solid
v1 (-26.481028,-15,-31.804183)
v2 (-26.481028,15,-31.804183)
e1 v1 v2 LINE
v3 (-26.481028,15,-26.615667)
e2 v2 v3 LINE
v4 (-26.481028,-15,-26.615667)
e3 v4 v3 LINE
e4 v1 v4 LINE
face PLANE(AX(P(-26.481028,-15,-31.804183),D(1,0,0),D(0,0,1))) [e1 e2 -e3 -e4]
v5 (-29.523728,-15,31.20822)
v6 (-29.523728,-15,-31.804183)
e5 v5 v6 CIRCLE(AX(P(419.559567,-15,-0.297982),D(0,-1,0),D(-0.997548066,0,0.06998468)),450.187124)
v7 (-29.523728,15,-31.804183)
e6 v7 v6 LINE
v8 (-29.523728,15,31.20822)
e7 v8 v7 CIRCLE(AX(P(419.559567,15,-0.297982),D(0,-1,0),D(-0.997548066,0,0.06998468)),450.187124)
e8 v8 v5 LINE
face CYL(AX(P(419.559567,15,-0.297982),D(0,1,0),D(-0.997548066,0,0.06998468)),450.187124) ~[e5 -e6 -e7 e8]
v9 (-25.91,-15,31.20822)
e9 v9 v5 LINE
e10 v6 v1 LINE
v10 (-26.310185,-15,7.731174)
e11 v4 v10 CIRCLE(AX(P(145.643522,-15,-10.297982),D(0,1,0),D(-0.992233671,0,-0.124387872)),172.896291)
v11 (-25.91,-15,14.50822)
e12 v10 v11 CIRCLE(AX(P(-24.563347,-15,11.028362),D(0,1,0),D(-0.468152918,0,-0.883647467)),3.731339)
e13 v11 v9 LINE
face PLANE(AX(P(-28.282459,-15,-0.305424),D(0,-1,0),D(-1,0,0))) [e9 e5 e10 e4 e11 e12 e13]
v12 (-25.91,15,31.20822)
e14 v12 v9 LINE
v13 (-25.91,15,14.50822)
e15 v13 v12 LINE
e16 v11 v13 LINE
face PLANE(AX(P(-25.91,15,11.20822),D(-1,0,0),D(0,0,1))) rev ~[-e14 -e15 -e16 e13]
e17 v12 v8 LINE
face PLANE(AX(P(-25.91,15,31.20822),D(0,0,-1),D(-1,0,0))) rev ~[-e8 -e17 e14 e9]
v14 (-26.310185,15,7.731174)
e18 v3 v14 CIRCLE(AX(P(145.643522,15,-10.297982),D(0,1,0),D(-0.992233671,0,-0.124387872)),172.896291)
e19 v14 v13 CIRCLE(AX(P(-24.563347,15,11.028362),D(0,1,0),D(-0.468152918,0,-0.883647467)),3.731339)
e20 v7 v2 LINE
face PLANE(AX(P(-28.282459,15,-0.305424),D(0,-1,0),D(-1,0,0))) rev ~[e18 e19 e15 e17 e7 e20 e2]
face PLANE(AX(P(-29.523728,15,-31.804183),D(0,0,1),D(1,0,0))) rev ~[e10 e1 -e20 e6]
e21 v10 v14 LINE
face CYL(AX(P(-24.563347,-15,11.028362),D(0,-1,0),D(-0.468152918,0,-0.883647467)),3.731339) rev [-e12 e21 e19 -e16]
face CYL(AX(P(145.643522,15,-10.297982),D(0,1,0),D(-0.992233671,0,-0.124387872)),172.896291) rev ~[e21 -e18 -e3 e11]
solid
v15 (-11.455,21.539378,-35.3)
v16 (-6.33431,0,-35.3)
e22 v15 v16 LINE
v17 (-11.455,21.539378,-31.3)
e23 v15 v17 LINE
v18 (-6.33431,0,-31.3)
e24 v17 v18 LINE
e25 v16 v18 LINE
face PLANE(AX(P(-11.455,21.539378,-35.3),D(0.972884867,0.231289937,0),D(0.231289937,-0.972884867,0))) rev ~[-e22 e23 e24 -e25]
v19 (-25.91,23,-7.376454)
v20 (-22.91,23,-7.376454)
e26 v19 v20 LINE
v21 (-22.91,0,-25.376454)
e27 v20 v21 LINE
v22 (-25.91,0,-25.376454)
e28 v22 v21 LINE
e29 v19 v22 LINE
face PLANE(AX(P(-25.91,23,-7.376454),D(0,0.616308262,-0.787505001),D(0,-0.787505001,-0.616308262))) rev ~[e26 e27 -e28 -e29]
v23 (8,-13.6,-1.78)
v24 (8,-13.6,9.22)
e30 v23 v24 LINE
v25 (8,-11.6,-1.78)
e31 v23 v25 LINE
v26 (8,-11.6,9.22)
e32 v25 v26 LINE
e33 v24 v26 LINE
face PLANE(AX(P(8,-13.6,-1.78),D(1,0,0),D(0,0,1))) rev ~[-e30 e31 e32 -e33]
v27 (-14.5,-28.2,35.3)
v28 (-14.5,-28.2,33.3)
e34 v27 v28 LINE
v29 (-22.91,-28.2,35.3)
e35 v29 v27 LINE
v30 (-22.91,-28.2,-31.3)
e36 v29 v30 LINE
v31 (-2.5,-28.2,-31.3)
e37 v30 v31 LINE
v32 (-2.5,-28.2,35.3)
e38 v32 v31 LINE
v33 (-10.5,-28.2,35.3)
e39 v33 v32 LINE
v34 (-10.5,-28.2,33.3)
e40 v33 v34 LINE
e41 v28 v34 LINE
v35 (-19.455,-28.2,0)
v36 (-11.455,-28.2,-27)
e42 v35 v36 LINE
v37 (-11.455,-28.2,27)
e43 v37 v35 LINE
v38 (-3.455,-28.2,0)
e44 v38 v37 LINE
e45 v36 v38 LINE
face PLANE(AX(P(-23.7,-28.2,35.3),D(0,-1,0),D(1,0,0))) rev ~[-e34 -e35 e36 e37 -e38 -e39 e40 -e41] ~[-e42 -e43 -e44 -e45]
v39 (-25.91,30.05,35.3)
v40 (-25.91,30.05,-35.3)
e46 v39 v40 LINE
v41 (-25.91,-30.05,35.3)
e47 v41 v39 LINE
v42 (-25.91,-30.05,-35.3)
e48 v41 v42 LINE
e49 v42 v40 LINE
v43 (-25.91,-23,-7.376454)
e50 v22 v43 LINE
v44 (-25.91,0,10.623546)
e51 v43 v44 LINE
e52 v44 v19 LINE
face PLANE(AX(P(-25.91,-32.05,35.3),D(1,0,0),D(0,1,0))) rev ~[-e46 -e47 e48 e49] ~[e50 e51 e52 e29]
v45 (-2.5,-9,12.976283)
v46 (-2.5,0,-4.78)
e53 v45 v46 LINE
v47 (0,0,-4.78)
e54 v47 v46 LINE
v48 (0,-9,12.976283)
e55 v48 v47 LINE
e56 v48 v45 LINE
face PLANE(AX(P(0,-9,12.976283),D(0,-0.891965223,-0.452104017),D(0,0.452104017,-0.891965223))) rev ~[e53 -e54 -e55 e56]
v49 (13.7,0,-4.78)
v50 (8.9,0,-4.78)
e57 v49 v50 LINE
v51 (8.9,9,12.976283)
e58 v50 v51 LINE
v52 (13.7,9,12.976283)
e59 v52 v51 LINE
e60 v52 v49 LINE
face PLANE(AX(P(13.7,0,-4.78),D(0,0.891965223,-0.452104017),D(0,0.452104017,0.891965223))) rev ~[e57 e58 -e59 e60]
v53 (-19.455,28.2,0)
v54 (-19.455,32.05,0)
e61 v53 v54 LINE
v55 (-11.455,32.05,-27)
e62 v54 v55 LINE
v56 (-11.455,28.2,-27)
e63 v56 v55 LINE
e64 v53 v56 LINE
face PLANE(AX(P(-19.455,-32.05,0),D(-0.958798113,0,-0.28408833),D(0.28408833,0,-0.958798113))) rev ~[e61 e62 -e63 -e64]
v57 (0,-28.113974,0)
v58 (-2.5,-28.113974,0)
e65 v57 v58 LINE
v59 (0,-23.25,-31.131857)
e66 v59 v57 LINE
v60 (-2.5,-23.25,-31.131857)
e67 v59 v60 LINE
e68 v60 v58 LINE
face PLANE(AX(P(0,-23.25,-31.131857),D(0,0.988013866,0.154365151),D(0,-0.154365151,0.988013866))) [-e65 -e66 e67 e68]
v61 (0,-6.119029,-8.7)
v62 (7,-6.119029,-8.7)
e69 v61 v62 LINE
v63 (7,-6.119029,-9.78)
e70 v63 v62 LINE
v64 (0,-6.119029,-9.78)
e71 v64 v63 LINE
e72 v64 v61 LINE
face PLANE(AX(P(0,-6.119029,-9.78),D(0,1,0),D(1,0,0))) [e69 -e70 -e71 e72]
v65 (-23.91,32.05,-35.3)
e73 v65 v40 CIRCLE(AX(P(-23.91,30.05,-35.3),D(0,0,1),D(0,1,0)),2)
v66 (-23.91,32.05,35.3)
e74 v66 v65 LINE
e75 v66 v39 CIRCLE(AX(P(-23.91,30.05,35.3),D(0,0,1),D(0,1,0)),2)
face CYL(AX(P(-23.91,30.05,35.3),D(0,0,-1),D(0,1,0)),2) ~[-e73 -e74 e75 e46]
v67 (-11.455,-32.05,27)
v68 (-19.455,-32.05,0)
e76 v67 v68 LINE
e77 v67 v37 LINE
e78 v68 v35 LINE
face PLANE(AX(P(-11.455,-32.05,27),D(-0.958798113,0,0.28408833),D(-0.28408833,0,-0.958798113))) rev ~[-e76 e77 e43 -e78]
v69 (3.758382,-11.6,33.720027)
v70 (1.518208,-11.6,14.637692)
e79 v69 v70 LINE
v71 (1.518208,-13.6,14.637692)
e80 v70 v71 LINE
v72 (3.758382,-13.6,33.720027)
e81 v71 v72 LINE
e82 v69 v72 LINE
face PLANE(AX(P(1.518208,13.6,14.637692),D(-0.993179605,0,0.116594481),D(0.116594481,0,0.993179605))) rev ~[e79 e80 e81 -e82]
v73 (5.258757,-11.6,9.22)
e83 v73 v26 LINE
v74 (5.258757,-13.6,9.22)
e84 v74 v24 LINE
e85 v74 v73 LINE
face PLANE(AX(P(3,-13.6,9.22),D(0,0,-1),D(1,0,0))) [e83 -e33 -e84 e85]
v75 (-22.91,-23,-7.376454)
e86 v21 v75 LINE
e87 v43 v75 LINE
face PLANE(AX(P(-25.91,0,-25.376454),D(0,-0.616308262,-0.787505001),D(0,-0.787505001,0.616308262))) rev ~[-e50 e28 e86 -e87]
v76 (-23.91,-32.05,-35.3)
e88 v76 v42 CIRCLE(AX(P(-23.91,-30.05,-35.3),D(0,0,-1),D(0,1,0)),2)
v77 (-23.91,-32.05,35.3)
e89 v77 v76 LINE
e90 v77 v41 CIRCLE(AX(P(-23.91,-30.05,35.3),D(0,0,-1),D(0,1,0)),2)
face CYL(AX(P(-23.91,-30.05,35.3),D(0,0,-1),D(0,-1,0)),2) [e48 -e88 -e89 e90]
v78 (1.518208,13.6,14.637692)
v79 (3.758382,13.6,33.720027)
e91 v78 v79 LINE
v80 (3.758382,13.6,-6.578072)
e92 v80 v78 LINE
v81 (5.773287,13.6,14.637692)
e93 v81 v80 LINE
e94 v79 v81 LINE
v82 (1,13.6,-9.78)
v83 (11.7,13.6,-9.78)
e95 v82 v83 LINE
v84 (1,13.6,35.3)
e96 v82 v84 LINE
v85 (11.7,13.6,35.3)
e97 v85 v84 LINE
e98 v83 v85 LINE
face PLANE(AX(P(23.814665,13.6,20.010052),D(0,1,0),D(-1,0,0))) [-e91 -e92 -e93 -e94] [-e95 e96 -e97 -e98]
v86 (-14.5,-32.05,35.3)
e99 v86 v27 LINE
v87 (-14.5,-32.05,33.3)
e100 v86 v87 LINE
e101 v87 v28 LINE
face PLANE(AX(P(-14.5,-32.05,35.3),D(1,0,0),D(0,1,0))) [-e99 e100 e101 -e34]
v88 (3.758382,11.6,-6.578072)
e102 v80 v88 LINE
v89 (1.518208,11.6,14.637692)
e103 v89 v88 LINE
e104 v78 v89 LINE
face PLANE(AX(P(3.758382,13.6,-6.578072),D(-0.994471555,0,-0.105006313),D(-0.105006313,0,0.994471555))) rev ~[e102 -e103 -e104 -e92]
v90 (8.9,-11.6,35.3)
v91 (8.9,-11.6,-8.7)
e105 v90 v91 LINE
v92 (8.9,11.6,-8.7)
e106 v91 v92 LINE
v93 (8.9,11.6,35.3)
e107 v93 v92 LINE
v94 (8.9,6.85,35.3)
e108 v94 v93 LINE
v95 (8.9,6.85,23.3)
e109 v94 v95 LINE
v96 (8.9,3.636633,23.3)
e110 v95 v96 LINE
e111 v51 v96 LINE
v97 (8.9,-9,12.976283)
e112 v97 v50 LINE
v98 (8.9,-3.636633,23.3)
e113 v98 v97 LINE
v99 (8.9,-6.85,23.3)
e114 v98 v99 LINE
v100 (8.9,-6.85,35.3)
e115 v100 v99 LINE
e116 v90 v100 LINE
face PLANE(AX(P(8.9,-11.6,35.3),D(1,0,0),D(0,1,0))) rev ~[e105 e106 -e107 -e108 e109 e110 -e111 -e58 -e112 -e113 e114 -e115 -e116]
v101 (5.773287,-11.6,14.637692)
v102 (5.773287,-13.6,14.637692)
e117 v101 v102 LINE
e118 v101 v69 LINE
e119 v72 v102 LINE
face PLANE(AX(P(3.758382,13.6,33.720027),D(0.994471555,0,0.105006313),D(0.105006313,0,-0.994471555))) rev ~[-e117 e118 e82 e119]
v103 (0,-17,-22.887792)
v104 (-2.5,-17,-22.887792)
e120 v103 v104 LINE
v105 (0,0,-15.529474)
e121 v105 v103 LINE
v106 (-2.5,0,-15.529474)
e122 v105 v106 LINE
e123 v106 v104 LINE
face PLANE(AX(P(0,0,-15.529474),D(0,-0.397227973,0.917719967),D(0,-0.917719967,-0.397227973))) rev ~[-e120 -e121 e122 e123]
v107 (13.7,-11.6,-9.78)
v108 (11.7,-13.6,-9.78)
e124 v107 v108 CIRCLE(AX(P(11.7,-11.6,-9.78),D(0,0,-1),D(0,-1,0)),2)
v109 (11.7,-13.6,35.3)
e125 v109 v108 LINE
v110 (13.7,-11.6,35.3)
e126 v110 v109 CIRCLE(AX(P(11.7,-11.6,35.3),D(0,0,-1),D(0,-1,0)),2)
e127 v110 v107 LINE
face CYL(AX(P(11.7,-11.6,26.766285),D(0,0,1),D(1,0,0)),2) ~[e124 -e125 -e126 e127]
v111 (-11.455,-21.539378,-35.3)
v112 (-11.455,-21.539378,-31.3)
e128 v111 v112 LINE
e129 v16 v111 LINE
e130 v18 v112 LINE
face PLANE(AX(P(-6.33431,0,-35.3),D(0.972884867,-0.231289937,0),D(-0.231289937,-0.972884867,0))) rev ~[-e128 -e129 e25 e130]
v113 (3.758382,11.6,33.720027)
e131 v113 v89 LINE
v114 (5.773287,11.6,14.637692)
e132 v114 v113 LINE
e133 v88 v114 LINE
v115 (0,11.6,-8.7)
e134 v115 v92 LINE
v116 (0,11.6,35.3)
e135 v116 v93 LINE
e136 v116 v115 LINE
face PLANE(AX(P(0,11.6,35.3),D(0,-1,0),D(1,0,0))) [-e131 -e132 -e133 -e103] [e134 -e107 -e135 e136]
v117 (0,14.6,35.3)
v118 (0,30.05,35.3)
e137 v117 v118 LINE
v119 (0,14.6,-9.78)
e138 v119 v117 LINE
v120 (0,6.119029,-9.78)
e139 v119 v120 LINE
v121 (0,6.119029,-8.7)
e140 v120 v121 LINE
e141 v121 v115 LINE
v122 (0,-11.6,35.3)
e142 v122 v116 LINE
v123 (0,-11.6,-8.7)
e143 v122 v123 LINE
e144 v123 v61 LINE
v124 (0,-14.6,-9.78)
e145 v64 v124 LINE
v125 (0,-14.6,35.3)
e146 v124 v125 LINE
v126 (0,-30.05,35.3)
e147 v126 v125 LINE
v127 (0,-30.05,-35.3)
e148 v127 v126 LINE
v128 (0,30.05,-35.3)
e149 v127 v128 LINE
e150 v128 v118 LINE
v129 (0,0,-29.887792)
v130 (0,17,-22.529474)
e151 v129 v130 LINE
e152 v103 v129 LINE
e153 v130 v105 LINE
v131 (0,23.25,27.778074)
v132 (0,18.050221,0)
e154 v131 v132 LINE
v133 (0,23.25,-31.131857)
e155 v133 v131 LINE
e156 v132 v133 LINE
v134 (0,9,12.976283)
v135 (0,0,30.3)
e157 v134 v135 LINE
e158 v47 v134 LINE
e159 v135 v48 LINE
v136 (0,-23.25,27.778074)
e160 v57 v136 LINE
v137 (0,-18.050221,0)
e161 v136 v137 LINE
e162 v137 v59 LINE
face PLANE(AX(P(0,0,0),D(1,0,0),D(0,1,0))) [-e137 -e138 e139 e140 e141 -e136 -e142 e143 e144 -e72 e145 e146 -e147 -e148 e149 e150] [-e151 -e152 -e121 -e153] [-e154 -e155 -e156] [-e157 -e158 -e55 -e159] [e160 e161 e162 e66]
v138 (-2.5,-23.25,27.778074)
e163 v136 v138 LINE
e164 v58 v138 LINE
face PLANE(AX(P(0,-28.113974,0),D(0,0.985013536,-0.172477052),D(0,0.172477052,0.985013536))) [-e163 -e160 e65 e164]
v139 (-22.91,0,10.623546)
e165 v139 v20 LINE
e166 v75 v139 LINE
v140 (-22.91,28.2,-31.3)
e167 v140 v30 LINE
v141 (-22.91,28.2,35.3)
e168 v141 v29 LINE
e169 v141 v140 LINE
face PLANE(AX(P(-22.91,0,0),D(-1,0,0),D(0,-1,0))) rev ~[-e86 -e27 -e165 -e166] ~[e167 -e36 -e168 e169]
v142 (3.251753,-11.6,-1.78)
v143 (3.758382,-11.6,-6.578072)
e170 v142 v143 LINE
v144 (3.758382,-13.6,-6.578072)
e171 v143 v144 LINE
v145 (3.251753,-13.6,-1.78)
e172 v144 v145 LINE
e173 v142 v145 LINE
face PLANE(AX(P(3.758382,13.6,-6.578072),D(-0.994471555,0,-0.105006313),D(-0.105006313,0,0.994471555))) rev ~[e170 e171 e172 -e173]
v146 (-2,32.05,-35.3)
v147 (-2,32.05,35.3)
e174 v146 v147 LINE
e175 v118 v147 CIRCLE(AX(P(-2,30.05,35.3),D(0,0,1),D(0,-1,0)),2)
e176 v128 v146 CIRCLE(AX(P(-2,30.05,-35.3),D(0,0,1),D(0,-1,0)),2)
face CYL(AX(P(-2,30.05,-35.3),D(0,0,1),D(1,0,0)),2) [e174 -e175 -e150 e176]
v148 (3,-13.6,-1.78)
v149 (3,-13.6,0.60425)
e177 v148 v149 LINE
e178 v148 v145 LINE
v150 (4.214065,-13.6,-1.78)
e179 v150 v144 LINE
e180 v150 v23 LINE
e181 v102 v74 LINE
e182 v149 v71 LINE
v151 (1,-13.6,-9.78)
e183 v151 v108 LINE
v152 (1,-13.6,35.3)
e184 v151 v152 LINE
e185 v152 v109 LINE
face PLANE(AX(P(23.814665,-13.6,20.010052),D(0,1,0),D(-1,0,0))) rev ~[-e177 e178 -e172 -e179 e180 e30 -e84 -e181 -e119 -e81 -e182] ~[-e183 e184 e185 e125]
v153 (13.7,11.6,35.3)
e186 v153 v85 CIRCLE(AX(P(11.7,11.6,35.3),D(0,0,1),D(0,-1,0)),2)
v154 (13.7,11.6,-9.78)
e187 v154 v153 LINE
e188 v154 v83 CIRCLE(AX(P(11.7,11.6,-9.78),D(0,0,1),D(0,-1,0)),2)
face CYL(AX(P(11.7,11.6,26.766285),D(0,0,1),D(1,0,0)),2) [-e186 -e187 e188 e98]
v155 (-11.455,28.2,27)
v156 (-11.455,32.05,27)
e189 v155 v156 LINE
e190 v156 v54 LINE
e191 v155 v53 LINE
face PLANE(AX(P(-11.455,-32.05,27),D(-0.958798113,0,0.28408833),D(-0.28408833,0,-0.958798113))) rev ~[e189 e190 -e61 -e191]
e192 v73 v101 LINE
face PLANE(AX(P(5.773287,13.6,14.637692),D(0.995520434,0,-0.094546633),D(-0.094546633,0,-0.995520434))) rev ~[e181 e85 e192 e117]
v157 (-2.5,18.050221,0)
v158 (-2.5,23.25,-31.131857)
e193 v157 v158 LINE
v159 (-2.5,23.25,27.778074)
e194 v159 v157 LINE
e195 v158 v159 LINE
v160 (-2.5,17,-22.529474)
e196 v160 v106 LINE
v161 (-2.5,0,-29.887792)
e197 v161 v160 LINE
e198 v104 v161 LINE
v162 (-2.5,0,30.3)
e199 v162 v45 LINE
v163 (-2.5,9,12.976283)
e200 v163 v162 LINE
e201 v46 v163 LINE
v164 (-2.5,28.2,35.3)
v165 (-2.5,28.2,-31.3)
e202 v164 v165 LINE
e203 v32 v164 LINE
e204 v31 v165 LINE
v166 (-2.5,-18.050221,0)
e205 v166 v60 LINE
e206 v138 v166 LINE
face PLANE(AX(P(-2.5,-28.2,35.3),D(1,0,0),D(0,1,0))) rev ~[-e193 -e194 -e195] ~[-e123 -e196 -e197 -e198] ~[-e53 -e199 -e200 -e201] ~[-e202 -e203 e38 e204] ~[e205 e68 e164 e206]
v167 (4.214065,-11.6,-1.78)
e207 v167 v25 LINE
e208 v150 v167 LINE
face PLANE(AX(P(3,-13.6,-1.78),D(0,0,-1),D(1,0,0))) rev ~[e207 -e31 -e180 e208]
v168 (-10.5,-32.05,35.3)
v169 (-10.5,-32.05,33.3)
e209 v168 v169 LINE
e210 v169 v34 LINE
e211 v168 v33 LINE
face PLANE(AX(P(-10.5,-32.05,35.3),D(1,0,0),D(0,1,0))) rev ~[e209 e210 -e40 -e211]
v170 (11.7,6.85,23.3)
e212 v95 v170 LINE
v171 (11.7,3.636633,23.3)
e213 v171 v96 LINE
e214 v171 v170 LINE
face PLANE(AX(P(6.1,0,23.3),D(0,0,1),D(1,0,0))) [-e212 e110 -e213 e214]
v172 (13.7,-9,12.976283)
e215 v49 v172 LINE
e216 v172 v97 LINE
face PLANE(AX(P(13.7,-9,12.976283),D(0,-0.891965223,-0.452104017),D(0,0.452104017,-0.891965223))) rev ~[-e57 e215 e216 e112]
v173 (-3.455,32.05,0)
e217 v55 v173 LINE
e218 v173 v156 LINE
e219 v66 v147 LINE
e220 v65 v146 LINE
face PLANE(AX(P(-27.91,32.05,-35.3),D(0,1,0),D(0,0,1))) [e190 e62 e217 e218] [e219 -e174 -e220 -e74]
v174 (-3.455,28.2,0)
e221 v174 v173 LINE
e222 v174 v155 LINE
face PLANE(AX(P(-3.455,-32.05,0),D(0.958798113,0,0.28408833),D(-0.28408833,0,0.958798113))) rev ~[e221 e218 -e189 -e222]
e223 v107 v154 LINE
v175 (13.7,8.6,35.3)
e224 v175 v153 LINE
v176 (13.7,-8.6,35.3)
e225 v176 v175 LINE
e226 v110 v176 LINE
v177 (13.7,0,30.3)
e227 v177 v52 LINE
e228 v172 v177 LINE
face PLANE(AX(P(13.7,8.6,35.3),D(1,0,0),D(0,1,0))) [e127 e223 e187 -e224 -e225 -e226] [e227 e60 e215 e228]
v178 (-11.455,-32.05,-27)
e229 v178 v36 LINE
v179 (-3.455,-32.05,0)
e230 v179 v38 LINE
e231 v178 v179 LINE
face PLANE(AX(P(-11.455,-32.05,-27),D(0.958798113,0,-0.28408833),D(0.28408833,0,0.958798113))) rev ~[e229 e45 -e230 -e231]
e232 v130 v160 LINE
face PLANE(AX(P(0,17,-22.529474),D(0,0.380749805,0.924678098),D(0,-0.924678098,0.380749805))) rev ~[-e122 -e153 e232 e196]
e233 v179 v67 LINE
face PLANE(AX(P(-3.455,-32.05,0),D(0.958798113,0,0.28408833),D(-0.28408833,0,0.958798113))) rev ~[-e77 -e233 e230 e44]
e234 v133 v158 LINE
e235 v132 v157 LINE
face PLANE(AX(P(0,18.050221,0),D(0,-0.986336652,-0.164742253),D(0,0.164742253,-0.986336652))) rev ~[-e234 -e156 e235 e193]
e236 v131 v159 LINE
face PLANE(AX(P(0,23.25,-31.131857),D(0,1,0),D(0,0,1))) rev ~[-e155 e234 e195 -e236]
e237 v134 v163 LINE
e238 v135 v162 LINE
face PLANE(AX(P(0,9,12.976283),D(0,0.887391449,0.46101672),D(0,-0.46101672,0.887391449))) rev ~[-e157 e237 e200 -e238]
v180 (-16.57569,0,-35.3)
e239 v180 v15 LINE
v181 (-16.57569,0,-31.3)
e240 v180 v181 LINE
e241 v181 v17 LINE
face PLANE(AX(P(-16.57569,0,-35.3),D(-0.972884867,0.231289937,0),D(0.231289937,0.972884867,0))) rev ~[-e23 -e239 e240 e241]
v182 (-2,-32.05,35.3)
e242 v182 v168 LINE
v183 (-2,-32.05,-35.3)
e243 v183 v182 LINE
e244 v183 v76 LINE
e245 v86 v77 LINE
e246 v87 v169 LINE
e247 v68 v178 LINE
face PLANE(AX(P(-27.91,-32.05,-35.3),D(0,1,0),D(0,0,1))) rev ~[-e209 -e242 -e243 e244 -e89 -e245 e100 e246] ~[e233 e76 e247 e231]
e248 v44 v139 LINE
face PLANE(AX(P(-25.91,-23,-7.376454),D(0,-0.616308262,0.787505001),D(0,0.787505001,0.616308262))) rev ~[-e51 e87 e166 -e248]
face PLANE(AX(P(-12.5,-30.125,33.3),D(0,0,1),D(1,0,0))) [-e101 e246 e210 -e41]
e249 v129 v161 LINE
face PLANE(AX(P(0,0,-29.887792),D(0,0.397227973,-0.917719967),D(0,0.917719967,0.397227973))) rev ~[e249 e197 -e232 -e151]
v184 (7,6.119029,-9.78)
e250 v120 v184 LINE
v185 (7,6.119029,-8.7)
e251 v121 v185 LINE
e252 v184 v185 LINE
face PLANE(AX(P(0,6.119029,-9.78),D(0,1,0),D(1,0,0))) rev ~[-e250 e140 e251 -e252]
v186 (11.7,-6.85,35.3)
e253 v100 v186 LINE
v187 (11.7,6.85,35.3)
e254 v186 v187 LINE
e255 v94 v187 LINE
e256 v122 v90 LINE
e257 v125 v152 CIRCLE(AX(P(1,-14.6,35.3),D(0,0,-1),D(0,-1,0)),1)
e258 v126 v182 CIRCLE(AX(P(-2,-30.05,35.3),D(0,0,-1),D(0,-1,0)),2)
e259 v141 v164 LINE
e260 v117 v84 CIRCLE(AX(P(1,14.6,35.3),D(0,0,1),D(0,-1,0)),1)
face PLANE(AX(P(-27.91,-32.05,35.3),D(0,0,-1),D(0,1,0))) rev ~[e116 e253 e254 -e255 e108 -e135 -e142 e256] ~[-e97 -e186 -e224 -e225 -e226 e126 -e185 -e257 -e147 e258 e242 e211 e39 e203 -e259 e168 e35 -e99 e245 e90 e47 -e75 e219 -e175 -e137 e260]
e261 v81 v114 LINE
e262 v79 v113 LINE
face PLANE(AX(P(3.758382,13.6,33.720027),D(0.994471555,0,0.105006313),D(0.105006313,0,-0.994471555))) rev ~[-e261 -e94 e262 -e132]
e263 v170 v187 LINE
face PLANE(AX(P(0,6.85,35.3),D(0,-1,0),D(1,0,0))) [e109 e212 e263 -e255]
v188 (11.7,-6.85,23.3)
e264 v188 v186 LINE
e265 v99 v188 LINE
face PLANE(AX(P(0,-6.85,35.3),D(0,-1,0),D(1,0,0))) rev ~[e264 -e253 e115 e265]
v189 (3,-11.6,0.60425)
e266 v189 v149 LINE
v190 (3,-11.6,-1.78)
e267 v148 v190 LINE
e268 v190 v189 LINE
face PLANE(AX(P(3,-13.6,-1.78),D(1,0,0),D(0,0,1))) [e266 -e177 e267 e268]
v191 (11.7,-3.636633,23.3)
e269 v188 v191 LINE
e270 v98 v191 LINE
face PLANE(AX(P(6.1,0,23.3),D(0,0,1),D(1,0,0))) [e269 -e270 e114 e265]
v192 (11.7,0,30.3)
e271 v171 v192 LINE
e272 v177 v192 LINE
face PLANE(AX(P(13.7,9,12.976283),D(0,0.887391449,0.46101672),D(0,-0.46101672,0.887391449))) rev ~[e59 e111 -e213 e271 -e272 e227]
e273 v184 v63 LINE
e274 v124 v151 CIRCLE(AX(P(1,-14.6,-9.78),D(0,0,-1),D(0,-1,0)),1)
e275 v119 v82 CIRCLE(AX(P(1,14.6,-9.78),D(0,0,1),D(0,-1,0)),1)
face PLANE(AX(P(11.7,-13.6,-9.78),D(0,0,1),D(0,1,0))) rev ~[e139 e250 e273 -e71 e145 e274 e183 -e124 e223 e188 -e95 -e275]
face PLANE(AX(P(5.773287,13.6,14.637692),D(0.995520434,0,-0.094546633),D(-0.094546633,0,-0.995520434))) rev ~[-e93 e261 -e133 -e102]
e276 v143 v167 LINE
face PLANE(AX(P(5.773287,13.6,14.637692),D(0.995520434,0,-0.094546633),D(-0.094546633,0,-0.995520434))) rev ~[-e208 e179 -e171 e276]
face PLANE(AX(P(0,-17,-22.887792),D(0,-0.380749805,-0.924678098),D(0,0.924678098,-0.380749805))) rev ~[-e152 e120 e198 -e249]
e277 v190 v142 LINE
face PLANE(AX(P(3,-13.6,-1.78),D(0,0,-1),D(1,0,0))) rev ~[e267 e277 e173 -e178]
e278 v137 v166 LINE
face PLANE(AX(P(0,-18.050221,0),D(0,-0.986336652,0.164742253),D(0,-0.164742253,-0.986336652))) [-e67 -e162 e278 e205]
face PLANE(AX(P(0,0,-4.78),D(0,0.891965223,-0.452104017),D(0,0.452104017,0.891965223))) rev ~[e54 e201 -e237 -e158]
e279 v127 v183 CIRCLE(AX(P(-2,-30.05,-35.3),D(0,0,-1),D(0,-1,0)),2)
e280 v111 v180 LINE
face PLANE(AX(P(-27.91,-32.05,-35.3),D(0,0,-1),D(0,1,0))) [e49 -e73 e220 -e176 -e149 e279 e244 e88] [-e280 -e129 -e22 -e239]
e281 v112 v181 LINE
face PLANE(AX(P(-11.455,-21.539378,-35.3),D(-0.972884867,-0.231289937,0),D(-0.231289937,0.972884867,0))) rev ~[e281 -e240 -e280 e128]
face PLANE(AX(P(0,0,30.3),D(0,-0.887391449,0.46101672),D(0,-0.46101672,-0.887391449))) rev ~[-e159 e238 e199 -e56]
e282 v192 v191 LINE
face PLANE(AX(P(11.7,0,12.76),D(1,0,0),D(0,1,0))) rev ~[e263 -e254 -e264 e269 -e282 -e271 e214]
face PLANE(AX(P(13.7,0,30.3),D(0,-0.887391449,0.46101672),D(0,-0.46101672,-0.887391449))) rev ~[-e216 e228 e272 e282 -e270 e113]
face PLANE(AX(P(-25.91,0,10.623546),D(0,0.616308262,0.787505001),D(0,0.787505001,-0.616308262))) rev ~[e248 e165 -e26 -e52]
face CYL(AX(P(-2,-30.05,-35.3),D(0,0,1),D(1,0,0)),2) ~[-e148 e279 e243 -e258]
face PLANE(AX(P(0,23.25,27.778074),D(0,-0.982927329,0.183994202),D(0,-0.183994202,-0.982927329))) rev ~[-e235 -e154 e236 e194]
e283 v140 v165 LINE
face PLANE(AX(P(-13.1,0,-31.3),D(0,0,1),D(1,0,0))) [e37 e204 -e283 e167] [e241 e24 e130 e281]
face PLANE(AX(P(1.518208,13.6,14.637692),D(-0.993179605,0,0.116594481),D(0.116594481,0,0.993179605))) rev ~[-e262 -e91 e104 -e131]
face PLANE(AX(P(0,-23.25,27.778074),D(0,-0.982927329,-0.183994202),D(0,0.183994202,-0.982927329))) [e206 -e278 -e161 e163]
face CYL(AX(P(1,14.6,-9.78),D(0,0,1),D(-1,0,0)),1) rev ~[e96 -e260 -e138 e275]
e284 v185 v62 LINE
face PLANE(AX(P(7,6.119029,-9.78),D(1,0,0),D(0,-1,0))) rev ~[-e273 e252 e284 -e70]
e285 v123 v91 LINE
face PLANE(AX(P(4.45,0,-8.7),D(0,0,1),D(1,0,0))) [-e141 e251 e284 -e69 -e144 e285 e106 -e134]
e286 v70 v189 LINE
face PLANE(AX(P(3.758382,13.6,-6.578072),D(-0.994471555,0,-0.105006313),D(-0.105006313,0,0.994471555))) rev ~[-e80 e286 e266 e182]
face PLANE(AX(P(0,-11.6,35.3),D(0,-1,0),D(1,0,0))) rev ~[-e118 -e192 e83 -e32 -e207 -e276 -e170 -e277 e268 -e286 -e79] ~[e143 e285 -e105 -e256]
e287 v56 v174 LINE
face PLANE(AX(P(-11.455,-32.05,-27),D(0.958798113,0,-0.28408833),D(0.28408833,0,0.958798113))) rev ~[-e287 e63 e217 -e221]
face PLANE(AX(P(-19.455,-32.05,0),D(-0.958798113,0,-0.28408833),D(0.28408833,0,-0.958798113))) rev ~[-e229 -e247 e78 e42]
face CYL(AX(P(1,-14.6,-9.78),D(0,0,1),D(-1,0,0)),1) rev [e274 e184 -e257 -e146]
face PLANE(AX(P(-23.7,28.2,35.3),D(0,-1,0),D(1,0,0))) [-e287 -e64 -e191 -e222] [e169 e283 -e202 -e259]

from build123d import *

# Parameters (mm, degrees)
SKETCH2_W                 = 64.1
SKETCH2_H                 = 70.6
BOSS_EXTRUDE1_DEPTH       = 22.91
SKETCH4_W                 = 21.2
SKETCH4_H                 = 56.4
CUT_EXTRUDE2_DEPTH        = 66.6
SKETCH5_W                 = 27.2
SKETCH5_H                 = 37
BOSS_EXTRUDE2_DEPTH       = 11.7
SKETCH7_W                 = 11.7
SKETCH7_H                 = 27.2
BOSS_EXTRUDE3_DEPTH       = 8.08
SKETCH6_W                 = 8.9
SKETCH6_H                 = 23.2
CUT_EXTRUDE3_DEPTH        = 44
SKETCH8_W                 = 12.2
SKETCH8_H                 = 13.7
CUT_EXTRUDE4_DEPTH        = 12
CUT_EXTRUDE5_REACH        = 64.088
SKETCH10_W                = 27.2
SKETCH10_H                = 45.08
BOSS_EXTRUDE4_DEPTH       = 2
SKETCH11_W                = 5
SKETCH11_H                = 11
CUT_EXTRUDE6_DEPTH        = 2
BOSS_EXTRUDE5_DEPTH       = 27.2
CUT_EXTRUDE8_REACH        = 84.64
SKETCH14_W                = 14.896508991
SKETCH14_H                = 5
SKETCH15_R                = 3.5
CUT_EXTRUDE9_DEPTH        = 5
THREAD2_PITCH             = 1.5
THREAD2_HEIGHT            = 10
THREAD2_RADIUS            = 3.5
THREAD2_START_ANGLE       = -180
CUT_EXTRUDE13_REACH       = 80.566
CUT_EXTRUDE14_REACH       = 62.113
SKETCH41_W                = 7
SKETCH41_H                = 12.238058432
CUT_EXTRUDE15_DEPTH       = 1.08
CUT_EXTRUDE16_DEPTH       = 4
SKETCH44_W                = 4
SKETCH44_H                = 3.85
CUT_EXTRUDE17_DEPTH       = 2
FILLET1_R                 = 2
SKETCH45_W                = 37.09673571
SKETCH45_H                = 46.917342367
CUT_EXTRUDE18_DEPTH       = 17.2
SKETCH46_W                = 64.1
SKETCH46_H                = 70.6
BOSS_EXTRUDE6_DEPTH       = 5
SKETCH48_W                = 70.6
SKETCH48_H                = 64.1
BOSS_EXTRUDE7_DEPTH       = 5
CUT_EXTRUDE19_DEPTH       = 3.5
CUT_EXTRUDE19_DEPTH_BACK  = 4
CHAMFER1_SIZE             = 0.2
SKETCH53_W                = 8.871125199
SKETCH53_H                = 9.434371244
BOSS_EXTRUDE8_DEPTH       = 10
SKETCH54_W                = 7
SKETCH54_H                = 64.1
CUT_EXTRUDE20_DEPTH       = 70.6
FILLET2_R                 = 2
FILLET3_R                 = 1
BOSS_EXTRUDE10_DEPTH      = 15
BOSS_EXTRUDE10_DEPTH_BACK = 15
CUT_EXTRUDE21_DEPTH       = 30
CUT_EXTRUDE22_DEPTH       = 3
CUT_EXTRUDE23_DEPTH       = 2.5
CUT_EXTRUDE24_DEPTH       = 2.5
CUT_EXTRUDE25_DEPTH       = 30


with BuildPart() as part:
    # Sketch2 → Boss-Extrude1 (new body)
    with BuildSketch(Plane.YZ):
        Rectangle(SKETCH2_W, SKETCH2_H)
    extrude(amount=-BOSS_EXTRUDE1_DEPTH)

    # Sketch4 → Cut-Extrude2 (cut)
    with BuildSketch(Plane.XY.offset(35.3)):
        with Locations((-13.1, 0)):
            Rectangle(SKETCH4_W, SKETCH4_H)
    extrude(amount=-CUT_EXTRUDE2_DEPTH, mode=Mode.SUBTRACT)

    # Sketch5 → Boss-Extrude2 (add)
    with BuildSketch(Plane.YZ):
        with Locations((0, 16.8)):
            Rectangle(SKETCH5_W, SKETCH5_H)
    extrude(amount=BOSS_EXTRUDE2_DEPTH)

    # Sketch7 → Boss-Extrude3 (add)
    with BuildSketch(Plane(origin=(0, 0, -1.7), x_dir=(1, 0, 0), z_dir=(0, 0, -1))):
        with Locations((5.85, 0)):
            Rectangle(SKETCH7_W, SKETCH7_H)
    extrude(amount=BOSS_EXTRUDE3_DEPTH)

    # Sketch6 → Cut-Extrude3 (cut)
    with BuildSketch(Plane.XY.offset(35.3)):
        with Locations((4.45, 0)):
            Rectangle(SKETCH6_W, SKETCH6_H)
    extrude(amount=-CUT_EXTRUDE3_DEPTH, mode=Mode.SUBTRACT)

    # Sketch8 → Cut-Extrude4 (cut)
    with BuildSketch(Plane.XY.offset(35.3)):
        with Locations((6.1, 0)):
            Rectangle(SKETCH8_W, SKETCH8_H)
    extrude(amount=-CUT_EXTRUDE4_DEPTH, mode=Mode.SUBTRACT)

    # Cut-Extrude5: up to this face of the body (flat: up to its plane)
    cut_extrude5_end = Plane(part.part.faces().sort_by_distance((5.85, -13.6, 12.76))[0])
    # Sketch9 → Cut-Extrude5 (cut, up to the picked face)
    with BuildSketch(Plane(origin=(0, 13.6, 0), x_dir=(-1, 0, 0), z_dir=(0, 1, 0)), mode=Mode.PRIVATE) as cut_extrude5_sk1:
        Polygon((-3.758381781, 33.720026795), (-5.773286722, 14.637691772), (-3.758381781, -6.578072011), (-1.518207966, 14.637691772), align=None)
    cut_extrude5_tool1 = split(extrude(cut_extrude5_sk1.sketch, amount=-CUT_EXTRUDE5_REACH, mode=Mode.PRIVATE), bisect_by=cut_extrude5_end, keep=Keep.BOTH, mode=Mode.PRIVATE)
    add(cut_extrude5_tool1.solids().sort_by(Axis((3.683292, 13.6, 13.926549), (0, -1, 0)))[0], mode=Mode.SUBTRACT)

    # Sketch10 → Boss-Extrude4 (add)
    with BuildSketch(Plane.YZ.offset(11.7)):
        with Locations((0, 12.76)):
            Rectangle(SKETCH10_W, SKETCH10_H)
    extrude(amount=BOSS_EXTRUDE4_DEPTH)

    # Sketch11 → Cut-Extrude6 (cut)
    with BuildSketch(Plane.XZ.offset(13.6)):
        with Locations((5.5, 3.72)):
            Rectangle(SKETCH11_W, SKETCH11_H)
    extrude(amount=-CUT_EXTRUDE6_DEPTH, mode=Mode.SUBTRACT)

    # Sketch12 → Boss-Extrude5 (add)
    with BuildSketch(Plane.XZ.offset(13.6)):
        Polygon((13.7, 35.3), (28.596508991, 35.3), (28.596508991, -0.612717465), (23.596508991, -0.612717465), (23.596508991, 26.766284959), (17.316508991, 26.766284959), (13.7, 26.766284959), align=None)
    extrude(amount=-BOSS_EXTRUDE5_DEPTH)

    # Cut-Extrude8: up to this face of the body (flat: up to its plane)
    cut_extrude8_end = Plane(part.part.faces().sort_by_distance((26.096508991, 0, -0.612717465))[0])
    # Sketch14 → Cut-Extrude8 (cut, up to the picked face)
    with BuildSketch(Plane.XY.offset(35.3), mode=Mode.PRIVATE) as cut_extrude8_sk1:
        with Locations((21.148254496, -11.1)):
            Rectangle(SKETCH14_W, SKETCH14_H)
    cut_extrude8_tool1 = split(extrude(cut_extrude8_sk1.sketch, amount=-CUT_EXTRUDE8_REACH, mode=Mode.PRIVATE), bisect_by=cut_extrude8_end, keep=Keep.BOTH, mode=Mode.PRIVATE)
    # Sketch14 → Cut-Extrude8 (cut, up to the picked face)
    with BuildSketch(Plane.XY.offset(35.3), mode=Mode.PRIVATE) as cut_extrude8_sk2:
        with Locations((21.148254496, 11.1)):
            Rectangle(SKETCH14_W, SKETCH14_H)
    cut_extrude8_tool2 = split(extrude(cut_extrude8_sk2.sketch, amount=-CUT_EXTRUDE8_REACH, mode=Mode.PRIVATE), bisect_by=cut_extrude8_end, keep=Keep.BOTH, mode=Mode.PRIVATE)
    add(cut_extrude8_tool1.solids().sort_by(Axis((21.148254, -11.1, 35.3), (0, 0, -1)))[0], mode=Mode.SUBTRACT)
    add(cut_extrude8_tool2.solids().sort_by(Axis((21.148254, 11.1, 35.3), (0, 0, -1)))[0], mode=Mode.SUBTRACT)

    # Sketch15 → Cut-Extrude9 (cut)
    with BuildSketch(Plane.YZ.offset(28.596508991)):
        with Locations(Location((0, 18.430454013, 0), (0, 0, 270))):
            Circle(SKETCH15_R)
    extrude(amount=-CUT_EXTRUDE9_DEPTH, mode=Mode.SUBTRACT)

    # Thread2: sweep along a helix
    with BuildLine() as thread2_path:
        add(Helix(THREAD2_PITCH, THREAD2_HEIGHT, THREAD2_RADIUS, center=(29.596508991, 0, 18.430454013), direction=(-1, 0, 0), lefthand=True, mode=Mode.PRIVATE).rotate(Axis((29.596508991, 0, 18.430454013), (-1, 0, 0)), THREAD2_START_ANGLE))
    # Thread Profile3 → Thread2 (sweep, cut)
    with BuildSketch(Plane(origin=(29.596508991, 0, 21.930454013), x_dir=(0, 0, 1), z_dir=(0, -1, 0))):
        Polygon((0, 0), (0.811898813, 0.468749998), (0.811898813, 0.656249998), (0, 1.124999996), align=None)
    sweep(path=thread2_path.line, is_frenet=True, mode=Mode.SUBTRACT)

    # Cut-Extrude13: up to this face of the body (flat: up to its plane)
    cut_extrude13_end = Plane(part.part.faces().sort_by_distance((-11.455, 32.05, 0))[0])
    # Sketch39 → Cut-Extrude13 (cut, up to the picked face)
    with BuildSketch(Plane.XZ.offset(32.05), mode=Mode.PRIVATE) as cut_extrude13_sk1:
        Polygon((-11.455, 27), (-19.455, 0), (-11.455, -27), (-3.455, 0), align=None)
    cut_extrude13_tool1 = split(extrude(cut_extrude13_sk1.sketch, amount=-CUT_EXTRUDE13_REACH, mode=Mode.PRIVATE), bisect_by=cut_extrude13_end, keep=Keep.BOTH, mode=Mode.PRIVATE)
    add(cut_extrude13_tool1.solids().sort_by(Axis((-11.455, -32.05, 0), (0, 1, 0)))[0], mode=Mode.SUBTRACT)

    # Cut-Extrude14: up to this face of the body (flat: up to its plane)
    cut_extrude14_end = Plane(part.part.faces().sort_by_distance((8.9, 0, 10.228538066))[0])
    # Sketch40 → Cut-Extrude14 (cut, up to the picked face)
    with BuildSketch(Plane.YZ.offset(13.7), mode=Mode.PRIVATE) as cut_extrude14_sk1:
        Polygon((0, -4.78), (9, 12.976283311), (0, 30.3), (-9, 12.976283311), align=None)
    cut_extrude14_tool1 = split(extrude(cut_extrude14_sk1.sketch, amount=-CUT_EXTRUDE14_REACH, mode=Mode.PRIVATE), bisect_by=cut_extrude14_end, keep=Keep.BOTH, mode=Mode.PRIVATE)
    add(cut_extrude14_tool1.solids().sort_by(Axis((13.7, 0, 12.832094), (-1, 0, 0)))[0], mode=Mode.SUBTRACT)

    # Sketch41 → Cut-Extrude15 (cut)
    with BuildSketch(Plane(origin=(0, 0, -9.78), x_dir=(1, 0, 0), z_dir=(0, 0, -1))):
        with Locations((3.5, 0)):
            Rectangle(SKETCH41_W, SKETCH41_H)
    extrude(amount=-CUT_EXTRUDE15_DEPTH, mode=Mode.SUBTRACT)

    # Sketch42 → Cut-Extrude16 (cut)
    with BuildSketch(Plane(origin=(0, 0, -35.3), x_dir=(1, 0, 0), z_dir=(0, 0, -1))):
        Polygon((-11.455, 21.539378486), (-16.575689674, 0), (-11.455, -21.539378486), (-6.334310326, 0), align=None)
    extrude(amount=-CUT_EXTRUDE16_DEPTH, mode=Mode.SUBTRACT)

    # Sketch44 → Cut-Extrude17 (cut)
    with BuildSketch(Plane.XY.offset(35.3)):
        with Locations((-12.5, -30.125)):
            Rectangle(SKETCH44_W, SKETCH44_H)
    extrude(amount=-CUT_EXTRUDE17_DEPTH, mode=Mode.SUBTRACT)

    # Fillet1
    fillet1_edges = [part.edges().sort_by_distance(p)[0] for p in [
        (13.7, 13.6, 12.76),
        (13.7, -13.6, 12.76),
        (0, -32.05, 0),
        (0, 32.05, 0),
    ]]
    fillet(fillet1_edges, radius=FILLET1_R)

    # Sketch45 → Cut-Extrude18 (cut)
    with BuildSketch(Plane.XZ.offset(8.6)):
        with Locations((32.248367855, 11.841328817)):
            Rectangle(SKETCH45_W, SKETCH45_H)
    extrude(amount=-CUT_EXTRUDE18_DEPTH, mode=Mode.SUBTRACT)

    # Sketch46 → Boss-Extrude6 (add)
    with BuildSketch(Plane(origin=(-22.91, 0, 0), x_dir=(0, -1, 0), z_dir=(-1, 0, 0))):
        Rectangle(SKETCH46_W, SKETCH46_H)
    extrude(amount=BOSS_EXTRUDE6_DEPTH)

    # Sketch48 → Boss-Extrude7 (add)
    with BuildSketch(Plane.ZY.offset(27.91)):
        Rectangle(SKETCH48_W, SKETCH48_H)
    extrude(amount=BOSS_EXTRUDE7_DEPTH)

    # Sketch52 → Cut-Extrude19 (cut, two sides: drawn at the far end of the back side and taken through both)
    with BuildSketch(Plane.XY.offset(25.3).offset(-CUT_EXTRUDE19_DEPTH_BACK)):
        with BuildLine():
            Line((-32.91, -2.5), (-32.41, -2.5))
            ThreePointArc((-32.41, -2.5), (-29.904288208, -3.5), (-27.431598813, -2.420926907))
            ThreePointArc((-27.431598813, -2.420926907), (-26.459438058, 0), (-27.431598813, 2.420926907))
            ThreePointArc((-27.431598813, 2.420926907), (-29.904288208, 3.5), (-32.41, 2.5))
            Line((-32.41, 2.5), (-32.91, 2.5))
            Line((-32.91, 2.5), (-32.91, -2.5))
        make_face()
    extrude(amount=CUT_EXTRUDE19_DEPTH + CUT_EXTRUDE19_DEPTH_BACK, mode=Mode.SUBTRACT)

    # Chamfer1
    chamfer1_edges = [part.edges().sort_by_distance(p)[0] for p in [
        (-32.91, 2.5, 25.05),
        (-32.91, -2.5, 25.05),
    ]]
    chamfer(chamfer1_edges, length=CHAMFER1_SIZE)

    # Sketch53 → Boss-Extrude8 (add)
    with BuildSketch(Plane(origin=(-32.91, 0, 0), x_dir=(0, -1, 0), z_dir=(-1, 0, 0))):
        with Locations((0.211217266, 24.67721732)):
            Rectangle(SKETCH53_W, SKETCH53_H)
    extrude(amount=-BOSS_EXTRUDE8_DEPTH)

    # Sketch54 → Cut-Extrude20 (cut)
    with BuildSketch(Plane.XY.offset(35.3)):
        with Locations((-29.41, 0)):
            Rectangle(SKETCH54_W, SKETCH54_H)
    extrude(amount=-CUT_EXTRUDE20_DEPTH, mode=Mode.SUBTRACT)

    # Fillet2
    fillet2_edges = [part.edges().sort_by_distance(p)[0] for p in [
        (-25.91, -32.05, 0),
        (-25.91, 32.05, 0),
    ]]
    fillet(fillet2_edges, radius=FILLET2_R)

    # Fillet3
    fillet3_edges = [part.edges().sort_by_distance(p)[0] for p in [
        (0, -13.6, 12.76),
        (0, 13.6, 12.76),
    ]]
    fillet(fillet3_edges, radius=FILLET3_R)

    # Sketch58 → Cut-Extrude22 (cut)
    with BuildSketch(Plane(origin=(-25.91, 0, 0), x_dir=(0, -1, 0), z_dir=(-1, 0, 0))):
        Polygon((0, 10.623546293), (-23, -7.376453707), (0, -25.376453707), (23, -7.376453707), align=None)
    extrude(amount=-CUT_EXTRUDE22_DEPTH, mode=Mode.SUBTRACT)

    # Sketch59 → Cut-Extrude23 (cut)
    with BuildSketch(Plane.YZ):
        Polygon((0, 30.3), (-9, 12.976283311), (0, -4.78), (9, 12.976283311), align=None)
    extrude(amount=-CUT_EXTRUDE23_DEPTH, mode=Mode.SUBTRACT)

    # Sketch60 → Cut-Extrude24 (cut)
    with BuildSketch(Plane.YZ):
        Polygon((23.25, 27.778073653), (18.050221383, 0), (23.25, -31.131856824), (23.25, 0), align=None)
        Polygon((-23.25, -31.131856824), (-28.113974033, 0), (-23.25, 27.778073653), (-18.050221383, 0), align=None)
        Polygon((0, -15.529474247), (-17, -22.887792456), (0, -29.887792456), (17, -22.529474247), align=None)
    extrude(amount=-CUT_EXTRUDE24_DEPTH, mode=Mode.SUBTRACT)


with BuildPart() as body_2:
    # Sketch55 → Boss-Extrude10 (new, two sides: drawn at the far end of the back side and taken through both)
    with BuildSketch(Plane(origin=(0, 0, 0), x_dir=(-1, 0, 0), z_dir=(0, -1, 0)).offset(-BOSS_EXTRUDE10_DEPTH_BACK)):
        with BuildLine():
            Line((25.91, -31.208220078), (29.523727835, -31.208220078))
            ThreePointArc((29.523727835, -31.208220078), (30.62755681, 0.297981597), (29.523727835, 31.804183271))
            Line((29.523727835, 31.804183271), (25.91, 31.804183271))
            ThreePointArc((25.91, 31.804183271), (27.252769522, 10.297981597), (25.91, -11.208220078))
            Line((25.91, -11.208220078), (25.91, -31.208220078))
        make_face()
    extrude(amount=BOSS_EXTRUDE10_DEPTH + BOSS_EXTRUDE10_DEPTH_BACK)

    # Sketch56 → Cut-Extrude21 (cut)
    with BuildSketch(Plane.XZ.offset(15)):
        with BuildLine():
            Line((-25.91, 14.508220078), (-25.91, 11.208220078))
            Line((-25.91, 11.208220078), (-26.310184517, 7.731173579))
            ThreePointArc((-26.310184517, 7.731173579), (-28.288197672, 11.248313928), (-25.91, 14.508220078))
        make_face()
    extrude(amount=-CUT_EXTRUDE21_DEPTH, mode=Mode.SUBTRACT)

    # Sketch61 → Cut-Extrude25 (cut)
    with BuildSketch(Plane.XZ.offset(15)):
        Polygon((-26.481028174, -31.804183271), (-26.481028174, -26.615666757), (-25.91, -27.108643608), (-25.91, -34.058493615), align=None)
    extrude(amount=-CUT_EXTRUDE25_DEPTH, mode=Mode.SUBTRACT)


solid = Compound([part.part, body_2.part])
